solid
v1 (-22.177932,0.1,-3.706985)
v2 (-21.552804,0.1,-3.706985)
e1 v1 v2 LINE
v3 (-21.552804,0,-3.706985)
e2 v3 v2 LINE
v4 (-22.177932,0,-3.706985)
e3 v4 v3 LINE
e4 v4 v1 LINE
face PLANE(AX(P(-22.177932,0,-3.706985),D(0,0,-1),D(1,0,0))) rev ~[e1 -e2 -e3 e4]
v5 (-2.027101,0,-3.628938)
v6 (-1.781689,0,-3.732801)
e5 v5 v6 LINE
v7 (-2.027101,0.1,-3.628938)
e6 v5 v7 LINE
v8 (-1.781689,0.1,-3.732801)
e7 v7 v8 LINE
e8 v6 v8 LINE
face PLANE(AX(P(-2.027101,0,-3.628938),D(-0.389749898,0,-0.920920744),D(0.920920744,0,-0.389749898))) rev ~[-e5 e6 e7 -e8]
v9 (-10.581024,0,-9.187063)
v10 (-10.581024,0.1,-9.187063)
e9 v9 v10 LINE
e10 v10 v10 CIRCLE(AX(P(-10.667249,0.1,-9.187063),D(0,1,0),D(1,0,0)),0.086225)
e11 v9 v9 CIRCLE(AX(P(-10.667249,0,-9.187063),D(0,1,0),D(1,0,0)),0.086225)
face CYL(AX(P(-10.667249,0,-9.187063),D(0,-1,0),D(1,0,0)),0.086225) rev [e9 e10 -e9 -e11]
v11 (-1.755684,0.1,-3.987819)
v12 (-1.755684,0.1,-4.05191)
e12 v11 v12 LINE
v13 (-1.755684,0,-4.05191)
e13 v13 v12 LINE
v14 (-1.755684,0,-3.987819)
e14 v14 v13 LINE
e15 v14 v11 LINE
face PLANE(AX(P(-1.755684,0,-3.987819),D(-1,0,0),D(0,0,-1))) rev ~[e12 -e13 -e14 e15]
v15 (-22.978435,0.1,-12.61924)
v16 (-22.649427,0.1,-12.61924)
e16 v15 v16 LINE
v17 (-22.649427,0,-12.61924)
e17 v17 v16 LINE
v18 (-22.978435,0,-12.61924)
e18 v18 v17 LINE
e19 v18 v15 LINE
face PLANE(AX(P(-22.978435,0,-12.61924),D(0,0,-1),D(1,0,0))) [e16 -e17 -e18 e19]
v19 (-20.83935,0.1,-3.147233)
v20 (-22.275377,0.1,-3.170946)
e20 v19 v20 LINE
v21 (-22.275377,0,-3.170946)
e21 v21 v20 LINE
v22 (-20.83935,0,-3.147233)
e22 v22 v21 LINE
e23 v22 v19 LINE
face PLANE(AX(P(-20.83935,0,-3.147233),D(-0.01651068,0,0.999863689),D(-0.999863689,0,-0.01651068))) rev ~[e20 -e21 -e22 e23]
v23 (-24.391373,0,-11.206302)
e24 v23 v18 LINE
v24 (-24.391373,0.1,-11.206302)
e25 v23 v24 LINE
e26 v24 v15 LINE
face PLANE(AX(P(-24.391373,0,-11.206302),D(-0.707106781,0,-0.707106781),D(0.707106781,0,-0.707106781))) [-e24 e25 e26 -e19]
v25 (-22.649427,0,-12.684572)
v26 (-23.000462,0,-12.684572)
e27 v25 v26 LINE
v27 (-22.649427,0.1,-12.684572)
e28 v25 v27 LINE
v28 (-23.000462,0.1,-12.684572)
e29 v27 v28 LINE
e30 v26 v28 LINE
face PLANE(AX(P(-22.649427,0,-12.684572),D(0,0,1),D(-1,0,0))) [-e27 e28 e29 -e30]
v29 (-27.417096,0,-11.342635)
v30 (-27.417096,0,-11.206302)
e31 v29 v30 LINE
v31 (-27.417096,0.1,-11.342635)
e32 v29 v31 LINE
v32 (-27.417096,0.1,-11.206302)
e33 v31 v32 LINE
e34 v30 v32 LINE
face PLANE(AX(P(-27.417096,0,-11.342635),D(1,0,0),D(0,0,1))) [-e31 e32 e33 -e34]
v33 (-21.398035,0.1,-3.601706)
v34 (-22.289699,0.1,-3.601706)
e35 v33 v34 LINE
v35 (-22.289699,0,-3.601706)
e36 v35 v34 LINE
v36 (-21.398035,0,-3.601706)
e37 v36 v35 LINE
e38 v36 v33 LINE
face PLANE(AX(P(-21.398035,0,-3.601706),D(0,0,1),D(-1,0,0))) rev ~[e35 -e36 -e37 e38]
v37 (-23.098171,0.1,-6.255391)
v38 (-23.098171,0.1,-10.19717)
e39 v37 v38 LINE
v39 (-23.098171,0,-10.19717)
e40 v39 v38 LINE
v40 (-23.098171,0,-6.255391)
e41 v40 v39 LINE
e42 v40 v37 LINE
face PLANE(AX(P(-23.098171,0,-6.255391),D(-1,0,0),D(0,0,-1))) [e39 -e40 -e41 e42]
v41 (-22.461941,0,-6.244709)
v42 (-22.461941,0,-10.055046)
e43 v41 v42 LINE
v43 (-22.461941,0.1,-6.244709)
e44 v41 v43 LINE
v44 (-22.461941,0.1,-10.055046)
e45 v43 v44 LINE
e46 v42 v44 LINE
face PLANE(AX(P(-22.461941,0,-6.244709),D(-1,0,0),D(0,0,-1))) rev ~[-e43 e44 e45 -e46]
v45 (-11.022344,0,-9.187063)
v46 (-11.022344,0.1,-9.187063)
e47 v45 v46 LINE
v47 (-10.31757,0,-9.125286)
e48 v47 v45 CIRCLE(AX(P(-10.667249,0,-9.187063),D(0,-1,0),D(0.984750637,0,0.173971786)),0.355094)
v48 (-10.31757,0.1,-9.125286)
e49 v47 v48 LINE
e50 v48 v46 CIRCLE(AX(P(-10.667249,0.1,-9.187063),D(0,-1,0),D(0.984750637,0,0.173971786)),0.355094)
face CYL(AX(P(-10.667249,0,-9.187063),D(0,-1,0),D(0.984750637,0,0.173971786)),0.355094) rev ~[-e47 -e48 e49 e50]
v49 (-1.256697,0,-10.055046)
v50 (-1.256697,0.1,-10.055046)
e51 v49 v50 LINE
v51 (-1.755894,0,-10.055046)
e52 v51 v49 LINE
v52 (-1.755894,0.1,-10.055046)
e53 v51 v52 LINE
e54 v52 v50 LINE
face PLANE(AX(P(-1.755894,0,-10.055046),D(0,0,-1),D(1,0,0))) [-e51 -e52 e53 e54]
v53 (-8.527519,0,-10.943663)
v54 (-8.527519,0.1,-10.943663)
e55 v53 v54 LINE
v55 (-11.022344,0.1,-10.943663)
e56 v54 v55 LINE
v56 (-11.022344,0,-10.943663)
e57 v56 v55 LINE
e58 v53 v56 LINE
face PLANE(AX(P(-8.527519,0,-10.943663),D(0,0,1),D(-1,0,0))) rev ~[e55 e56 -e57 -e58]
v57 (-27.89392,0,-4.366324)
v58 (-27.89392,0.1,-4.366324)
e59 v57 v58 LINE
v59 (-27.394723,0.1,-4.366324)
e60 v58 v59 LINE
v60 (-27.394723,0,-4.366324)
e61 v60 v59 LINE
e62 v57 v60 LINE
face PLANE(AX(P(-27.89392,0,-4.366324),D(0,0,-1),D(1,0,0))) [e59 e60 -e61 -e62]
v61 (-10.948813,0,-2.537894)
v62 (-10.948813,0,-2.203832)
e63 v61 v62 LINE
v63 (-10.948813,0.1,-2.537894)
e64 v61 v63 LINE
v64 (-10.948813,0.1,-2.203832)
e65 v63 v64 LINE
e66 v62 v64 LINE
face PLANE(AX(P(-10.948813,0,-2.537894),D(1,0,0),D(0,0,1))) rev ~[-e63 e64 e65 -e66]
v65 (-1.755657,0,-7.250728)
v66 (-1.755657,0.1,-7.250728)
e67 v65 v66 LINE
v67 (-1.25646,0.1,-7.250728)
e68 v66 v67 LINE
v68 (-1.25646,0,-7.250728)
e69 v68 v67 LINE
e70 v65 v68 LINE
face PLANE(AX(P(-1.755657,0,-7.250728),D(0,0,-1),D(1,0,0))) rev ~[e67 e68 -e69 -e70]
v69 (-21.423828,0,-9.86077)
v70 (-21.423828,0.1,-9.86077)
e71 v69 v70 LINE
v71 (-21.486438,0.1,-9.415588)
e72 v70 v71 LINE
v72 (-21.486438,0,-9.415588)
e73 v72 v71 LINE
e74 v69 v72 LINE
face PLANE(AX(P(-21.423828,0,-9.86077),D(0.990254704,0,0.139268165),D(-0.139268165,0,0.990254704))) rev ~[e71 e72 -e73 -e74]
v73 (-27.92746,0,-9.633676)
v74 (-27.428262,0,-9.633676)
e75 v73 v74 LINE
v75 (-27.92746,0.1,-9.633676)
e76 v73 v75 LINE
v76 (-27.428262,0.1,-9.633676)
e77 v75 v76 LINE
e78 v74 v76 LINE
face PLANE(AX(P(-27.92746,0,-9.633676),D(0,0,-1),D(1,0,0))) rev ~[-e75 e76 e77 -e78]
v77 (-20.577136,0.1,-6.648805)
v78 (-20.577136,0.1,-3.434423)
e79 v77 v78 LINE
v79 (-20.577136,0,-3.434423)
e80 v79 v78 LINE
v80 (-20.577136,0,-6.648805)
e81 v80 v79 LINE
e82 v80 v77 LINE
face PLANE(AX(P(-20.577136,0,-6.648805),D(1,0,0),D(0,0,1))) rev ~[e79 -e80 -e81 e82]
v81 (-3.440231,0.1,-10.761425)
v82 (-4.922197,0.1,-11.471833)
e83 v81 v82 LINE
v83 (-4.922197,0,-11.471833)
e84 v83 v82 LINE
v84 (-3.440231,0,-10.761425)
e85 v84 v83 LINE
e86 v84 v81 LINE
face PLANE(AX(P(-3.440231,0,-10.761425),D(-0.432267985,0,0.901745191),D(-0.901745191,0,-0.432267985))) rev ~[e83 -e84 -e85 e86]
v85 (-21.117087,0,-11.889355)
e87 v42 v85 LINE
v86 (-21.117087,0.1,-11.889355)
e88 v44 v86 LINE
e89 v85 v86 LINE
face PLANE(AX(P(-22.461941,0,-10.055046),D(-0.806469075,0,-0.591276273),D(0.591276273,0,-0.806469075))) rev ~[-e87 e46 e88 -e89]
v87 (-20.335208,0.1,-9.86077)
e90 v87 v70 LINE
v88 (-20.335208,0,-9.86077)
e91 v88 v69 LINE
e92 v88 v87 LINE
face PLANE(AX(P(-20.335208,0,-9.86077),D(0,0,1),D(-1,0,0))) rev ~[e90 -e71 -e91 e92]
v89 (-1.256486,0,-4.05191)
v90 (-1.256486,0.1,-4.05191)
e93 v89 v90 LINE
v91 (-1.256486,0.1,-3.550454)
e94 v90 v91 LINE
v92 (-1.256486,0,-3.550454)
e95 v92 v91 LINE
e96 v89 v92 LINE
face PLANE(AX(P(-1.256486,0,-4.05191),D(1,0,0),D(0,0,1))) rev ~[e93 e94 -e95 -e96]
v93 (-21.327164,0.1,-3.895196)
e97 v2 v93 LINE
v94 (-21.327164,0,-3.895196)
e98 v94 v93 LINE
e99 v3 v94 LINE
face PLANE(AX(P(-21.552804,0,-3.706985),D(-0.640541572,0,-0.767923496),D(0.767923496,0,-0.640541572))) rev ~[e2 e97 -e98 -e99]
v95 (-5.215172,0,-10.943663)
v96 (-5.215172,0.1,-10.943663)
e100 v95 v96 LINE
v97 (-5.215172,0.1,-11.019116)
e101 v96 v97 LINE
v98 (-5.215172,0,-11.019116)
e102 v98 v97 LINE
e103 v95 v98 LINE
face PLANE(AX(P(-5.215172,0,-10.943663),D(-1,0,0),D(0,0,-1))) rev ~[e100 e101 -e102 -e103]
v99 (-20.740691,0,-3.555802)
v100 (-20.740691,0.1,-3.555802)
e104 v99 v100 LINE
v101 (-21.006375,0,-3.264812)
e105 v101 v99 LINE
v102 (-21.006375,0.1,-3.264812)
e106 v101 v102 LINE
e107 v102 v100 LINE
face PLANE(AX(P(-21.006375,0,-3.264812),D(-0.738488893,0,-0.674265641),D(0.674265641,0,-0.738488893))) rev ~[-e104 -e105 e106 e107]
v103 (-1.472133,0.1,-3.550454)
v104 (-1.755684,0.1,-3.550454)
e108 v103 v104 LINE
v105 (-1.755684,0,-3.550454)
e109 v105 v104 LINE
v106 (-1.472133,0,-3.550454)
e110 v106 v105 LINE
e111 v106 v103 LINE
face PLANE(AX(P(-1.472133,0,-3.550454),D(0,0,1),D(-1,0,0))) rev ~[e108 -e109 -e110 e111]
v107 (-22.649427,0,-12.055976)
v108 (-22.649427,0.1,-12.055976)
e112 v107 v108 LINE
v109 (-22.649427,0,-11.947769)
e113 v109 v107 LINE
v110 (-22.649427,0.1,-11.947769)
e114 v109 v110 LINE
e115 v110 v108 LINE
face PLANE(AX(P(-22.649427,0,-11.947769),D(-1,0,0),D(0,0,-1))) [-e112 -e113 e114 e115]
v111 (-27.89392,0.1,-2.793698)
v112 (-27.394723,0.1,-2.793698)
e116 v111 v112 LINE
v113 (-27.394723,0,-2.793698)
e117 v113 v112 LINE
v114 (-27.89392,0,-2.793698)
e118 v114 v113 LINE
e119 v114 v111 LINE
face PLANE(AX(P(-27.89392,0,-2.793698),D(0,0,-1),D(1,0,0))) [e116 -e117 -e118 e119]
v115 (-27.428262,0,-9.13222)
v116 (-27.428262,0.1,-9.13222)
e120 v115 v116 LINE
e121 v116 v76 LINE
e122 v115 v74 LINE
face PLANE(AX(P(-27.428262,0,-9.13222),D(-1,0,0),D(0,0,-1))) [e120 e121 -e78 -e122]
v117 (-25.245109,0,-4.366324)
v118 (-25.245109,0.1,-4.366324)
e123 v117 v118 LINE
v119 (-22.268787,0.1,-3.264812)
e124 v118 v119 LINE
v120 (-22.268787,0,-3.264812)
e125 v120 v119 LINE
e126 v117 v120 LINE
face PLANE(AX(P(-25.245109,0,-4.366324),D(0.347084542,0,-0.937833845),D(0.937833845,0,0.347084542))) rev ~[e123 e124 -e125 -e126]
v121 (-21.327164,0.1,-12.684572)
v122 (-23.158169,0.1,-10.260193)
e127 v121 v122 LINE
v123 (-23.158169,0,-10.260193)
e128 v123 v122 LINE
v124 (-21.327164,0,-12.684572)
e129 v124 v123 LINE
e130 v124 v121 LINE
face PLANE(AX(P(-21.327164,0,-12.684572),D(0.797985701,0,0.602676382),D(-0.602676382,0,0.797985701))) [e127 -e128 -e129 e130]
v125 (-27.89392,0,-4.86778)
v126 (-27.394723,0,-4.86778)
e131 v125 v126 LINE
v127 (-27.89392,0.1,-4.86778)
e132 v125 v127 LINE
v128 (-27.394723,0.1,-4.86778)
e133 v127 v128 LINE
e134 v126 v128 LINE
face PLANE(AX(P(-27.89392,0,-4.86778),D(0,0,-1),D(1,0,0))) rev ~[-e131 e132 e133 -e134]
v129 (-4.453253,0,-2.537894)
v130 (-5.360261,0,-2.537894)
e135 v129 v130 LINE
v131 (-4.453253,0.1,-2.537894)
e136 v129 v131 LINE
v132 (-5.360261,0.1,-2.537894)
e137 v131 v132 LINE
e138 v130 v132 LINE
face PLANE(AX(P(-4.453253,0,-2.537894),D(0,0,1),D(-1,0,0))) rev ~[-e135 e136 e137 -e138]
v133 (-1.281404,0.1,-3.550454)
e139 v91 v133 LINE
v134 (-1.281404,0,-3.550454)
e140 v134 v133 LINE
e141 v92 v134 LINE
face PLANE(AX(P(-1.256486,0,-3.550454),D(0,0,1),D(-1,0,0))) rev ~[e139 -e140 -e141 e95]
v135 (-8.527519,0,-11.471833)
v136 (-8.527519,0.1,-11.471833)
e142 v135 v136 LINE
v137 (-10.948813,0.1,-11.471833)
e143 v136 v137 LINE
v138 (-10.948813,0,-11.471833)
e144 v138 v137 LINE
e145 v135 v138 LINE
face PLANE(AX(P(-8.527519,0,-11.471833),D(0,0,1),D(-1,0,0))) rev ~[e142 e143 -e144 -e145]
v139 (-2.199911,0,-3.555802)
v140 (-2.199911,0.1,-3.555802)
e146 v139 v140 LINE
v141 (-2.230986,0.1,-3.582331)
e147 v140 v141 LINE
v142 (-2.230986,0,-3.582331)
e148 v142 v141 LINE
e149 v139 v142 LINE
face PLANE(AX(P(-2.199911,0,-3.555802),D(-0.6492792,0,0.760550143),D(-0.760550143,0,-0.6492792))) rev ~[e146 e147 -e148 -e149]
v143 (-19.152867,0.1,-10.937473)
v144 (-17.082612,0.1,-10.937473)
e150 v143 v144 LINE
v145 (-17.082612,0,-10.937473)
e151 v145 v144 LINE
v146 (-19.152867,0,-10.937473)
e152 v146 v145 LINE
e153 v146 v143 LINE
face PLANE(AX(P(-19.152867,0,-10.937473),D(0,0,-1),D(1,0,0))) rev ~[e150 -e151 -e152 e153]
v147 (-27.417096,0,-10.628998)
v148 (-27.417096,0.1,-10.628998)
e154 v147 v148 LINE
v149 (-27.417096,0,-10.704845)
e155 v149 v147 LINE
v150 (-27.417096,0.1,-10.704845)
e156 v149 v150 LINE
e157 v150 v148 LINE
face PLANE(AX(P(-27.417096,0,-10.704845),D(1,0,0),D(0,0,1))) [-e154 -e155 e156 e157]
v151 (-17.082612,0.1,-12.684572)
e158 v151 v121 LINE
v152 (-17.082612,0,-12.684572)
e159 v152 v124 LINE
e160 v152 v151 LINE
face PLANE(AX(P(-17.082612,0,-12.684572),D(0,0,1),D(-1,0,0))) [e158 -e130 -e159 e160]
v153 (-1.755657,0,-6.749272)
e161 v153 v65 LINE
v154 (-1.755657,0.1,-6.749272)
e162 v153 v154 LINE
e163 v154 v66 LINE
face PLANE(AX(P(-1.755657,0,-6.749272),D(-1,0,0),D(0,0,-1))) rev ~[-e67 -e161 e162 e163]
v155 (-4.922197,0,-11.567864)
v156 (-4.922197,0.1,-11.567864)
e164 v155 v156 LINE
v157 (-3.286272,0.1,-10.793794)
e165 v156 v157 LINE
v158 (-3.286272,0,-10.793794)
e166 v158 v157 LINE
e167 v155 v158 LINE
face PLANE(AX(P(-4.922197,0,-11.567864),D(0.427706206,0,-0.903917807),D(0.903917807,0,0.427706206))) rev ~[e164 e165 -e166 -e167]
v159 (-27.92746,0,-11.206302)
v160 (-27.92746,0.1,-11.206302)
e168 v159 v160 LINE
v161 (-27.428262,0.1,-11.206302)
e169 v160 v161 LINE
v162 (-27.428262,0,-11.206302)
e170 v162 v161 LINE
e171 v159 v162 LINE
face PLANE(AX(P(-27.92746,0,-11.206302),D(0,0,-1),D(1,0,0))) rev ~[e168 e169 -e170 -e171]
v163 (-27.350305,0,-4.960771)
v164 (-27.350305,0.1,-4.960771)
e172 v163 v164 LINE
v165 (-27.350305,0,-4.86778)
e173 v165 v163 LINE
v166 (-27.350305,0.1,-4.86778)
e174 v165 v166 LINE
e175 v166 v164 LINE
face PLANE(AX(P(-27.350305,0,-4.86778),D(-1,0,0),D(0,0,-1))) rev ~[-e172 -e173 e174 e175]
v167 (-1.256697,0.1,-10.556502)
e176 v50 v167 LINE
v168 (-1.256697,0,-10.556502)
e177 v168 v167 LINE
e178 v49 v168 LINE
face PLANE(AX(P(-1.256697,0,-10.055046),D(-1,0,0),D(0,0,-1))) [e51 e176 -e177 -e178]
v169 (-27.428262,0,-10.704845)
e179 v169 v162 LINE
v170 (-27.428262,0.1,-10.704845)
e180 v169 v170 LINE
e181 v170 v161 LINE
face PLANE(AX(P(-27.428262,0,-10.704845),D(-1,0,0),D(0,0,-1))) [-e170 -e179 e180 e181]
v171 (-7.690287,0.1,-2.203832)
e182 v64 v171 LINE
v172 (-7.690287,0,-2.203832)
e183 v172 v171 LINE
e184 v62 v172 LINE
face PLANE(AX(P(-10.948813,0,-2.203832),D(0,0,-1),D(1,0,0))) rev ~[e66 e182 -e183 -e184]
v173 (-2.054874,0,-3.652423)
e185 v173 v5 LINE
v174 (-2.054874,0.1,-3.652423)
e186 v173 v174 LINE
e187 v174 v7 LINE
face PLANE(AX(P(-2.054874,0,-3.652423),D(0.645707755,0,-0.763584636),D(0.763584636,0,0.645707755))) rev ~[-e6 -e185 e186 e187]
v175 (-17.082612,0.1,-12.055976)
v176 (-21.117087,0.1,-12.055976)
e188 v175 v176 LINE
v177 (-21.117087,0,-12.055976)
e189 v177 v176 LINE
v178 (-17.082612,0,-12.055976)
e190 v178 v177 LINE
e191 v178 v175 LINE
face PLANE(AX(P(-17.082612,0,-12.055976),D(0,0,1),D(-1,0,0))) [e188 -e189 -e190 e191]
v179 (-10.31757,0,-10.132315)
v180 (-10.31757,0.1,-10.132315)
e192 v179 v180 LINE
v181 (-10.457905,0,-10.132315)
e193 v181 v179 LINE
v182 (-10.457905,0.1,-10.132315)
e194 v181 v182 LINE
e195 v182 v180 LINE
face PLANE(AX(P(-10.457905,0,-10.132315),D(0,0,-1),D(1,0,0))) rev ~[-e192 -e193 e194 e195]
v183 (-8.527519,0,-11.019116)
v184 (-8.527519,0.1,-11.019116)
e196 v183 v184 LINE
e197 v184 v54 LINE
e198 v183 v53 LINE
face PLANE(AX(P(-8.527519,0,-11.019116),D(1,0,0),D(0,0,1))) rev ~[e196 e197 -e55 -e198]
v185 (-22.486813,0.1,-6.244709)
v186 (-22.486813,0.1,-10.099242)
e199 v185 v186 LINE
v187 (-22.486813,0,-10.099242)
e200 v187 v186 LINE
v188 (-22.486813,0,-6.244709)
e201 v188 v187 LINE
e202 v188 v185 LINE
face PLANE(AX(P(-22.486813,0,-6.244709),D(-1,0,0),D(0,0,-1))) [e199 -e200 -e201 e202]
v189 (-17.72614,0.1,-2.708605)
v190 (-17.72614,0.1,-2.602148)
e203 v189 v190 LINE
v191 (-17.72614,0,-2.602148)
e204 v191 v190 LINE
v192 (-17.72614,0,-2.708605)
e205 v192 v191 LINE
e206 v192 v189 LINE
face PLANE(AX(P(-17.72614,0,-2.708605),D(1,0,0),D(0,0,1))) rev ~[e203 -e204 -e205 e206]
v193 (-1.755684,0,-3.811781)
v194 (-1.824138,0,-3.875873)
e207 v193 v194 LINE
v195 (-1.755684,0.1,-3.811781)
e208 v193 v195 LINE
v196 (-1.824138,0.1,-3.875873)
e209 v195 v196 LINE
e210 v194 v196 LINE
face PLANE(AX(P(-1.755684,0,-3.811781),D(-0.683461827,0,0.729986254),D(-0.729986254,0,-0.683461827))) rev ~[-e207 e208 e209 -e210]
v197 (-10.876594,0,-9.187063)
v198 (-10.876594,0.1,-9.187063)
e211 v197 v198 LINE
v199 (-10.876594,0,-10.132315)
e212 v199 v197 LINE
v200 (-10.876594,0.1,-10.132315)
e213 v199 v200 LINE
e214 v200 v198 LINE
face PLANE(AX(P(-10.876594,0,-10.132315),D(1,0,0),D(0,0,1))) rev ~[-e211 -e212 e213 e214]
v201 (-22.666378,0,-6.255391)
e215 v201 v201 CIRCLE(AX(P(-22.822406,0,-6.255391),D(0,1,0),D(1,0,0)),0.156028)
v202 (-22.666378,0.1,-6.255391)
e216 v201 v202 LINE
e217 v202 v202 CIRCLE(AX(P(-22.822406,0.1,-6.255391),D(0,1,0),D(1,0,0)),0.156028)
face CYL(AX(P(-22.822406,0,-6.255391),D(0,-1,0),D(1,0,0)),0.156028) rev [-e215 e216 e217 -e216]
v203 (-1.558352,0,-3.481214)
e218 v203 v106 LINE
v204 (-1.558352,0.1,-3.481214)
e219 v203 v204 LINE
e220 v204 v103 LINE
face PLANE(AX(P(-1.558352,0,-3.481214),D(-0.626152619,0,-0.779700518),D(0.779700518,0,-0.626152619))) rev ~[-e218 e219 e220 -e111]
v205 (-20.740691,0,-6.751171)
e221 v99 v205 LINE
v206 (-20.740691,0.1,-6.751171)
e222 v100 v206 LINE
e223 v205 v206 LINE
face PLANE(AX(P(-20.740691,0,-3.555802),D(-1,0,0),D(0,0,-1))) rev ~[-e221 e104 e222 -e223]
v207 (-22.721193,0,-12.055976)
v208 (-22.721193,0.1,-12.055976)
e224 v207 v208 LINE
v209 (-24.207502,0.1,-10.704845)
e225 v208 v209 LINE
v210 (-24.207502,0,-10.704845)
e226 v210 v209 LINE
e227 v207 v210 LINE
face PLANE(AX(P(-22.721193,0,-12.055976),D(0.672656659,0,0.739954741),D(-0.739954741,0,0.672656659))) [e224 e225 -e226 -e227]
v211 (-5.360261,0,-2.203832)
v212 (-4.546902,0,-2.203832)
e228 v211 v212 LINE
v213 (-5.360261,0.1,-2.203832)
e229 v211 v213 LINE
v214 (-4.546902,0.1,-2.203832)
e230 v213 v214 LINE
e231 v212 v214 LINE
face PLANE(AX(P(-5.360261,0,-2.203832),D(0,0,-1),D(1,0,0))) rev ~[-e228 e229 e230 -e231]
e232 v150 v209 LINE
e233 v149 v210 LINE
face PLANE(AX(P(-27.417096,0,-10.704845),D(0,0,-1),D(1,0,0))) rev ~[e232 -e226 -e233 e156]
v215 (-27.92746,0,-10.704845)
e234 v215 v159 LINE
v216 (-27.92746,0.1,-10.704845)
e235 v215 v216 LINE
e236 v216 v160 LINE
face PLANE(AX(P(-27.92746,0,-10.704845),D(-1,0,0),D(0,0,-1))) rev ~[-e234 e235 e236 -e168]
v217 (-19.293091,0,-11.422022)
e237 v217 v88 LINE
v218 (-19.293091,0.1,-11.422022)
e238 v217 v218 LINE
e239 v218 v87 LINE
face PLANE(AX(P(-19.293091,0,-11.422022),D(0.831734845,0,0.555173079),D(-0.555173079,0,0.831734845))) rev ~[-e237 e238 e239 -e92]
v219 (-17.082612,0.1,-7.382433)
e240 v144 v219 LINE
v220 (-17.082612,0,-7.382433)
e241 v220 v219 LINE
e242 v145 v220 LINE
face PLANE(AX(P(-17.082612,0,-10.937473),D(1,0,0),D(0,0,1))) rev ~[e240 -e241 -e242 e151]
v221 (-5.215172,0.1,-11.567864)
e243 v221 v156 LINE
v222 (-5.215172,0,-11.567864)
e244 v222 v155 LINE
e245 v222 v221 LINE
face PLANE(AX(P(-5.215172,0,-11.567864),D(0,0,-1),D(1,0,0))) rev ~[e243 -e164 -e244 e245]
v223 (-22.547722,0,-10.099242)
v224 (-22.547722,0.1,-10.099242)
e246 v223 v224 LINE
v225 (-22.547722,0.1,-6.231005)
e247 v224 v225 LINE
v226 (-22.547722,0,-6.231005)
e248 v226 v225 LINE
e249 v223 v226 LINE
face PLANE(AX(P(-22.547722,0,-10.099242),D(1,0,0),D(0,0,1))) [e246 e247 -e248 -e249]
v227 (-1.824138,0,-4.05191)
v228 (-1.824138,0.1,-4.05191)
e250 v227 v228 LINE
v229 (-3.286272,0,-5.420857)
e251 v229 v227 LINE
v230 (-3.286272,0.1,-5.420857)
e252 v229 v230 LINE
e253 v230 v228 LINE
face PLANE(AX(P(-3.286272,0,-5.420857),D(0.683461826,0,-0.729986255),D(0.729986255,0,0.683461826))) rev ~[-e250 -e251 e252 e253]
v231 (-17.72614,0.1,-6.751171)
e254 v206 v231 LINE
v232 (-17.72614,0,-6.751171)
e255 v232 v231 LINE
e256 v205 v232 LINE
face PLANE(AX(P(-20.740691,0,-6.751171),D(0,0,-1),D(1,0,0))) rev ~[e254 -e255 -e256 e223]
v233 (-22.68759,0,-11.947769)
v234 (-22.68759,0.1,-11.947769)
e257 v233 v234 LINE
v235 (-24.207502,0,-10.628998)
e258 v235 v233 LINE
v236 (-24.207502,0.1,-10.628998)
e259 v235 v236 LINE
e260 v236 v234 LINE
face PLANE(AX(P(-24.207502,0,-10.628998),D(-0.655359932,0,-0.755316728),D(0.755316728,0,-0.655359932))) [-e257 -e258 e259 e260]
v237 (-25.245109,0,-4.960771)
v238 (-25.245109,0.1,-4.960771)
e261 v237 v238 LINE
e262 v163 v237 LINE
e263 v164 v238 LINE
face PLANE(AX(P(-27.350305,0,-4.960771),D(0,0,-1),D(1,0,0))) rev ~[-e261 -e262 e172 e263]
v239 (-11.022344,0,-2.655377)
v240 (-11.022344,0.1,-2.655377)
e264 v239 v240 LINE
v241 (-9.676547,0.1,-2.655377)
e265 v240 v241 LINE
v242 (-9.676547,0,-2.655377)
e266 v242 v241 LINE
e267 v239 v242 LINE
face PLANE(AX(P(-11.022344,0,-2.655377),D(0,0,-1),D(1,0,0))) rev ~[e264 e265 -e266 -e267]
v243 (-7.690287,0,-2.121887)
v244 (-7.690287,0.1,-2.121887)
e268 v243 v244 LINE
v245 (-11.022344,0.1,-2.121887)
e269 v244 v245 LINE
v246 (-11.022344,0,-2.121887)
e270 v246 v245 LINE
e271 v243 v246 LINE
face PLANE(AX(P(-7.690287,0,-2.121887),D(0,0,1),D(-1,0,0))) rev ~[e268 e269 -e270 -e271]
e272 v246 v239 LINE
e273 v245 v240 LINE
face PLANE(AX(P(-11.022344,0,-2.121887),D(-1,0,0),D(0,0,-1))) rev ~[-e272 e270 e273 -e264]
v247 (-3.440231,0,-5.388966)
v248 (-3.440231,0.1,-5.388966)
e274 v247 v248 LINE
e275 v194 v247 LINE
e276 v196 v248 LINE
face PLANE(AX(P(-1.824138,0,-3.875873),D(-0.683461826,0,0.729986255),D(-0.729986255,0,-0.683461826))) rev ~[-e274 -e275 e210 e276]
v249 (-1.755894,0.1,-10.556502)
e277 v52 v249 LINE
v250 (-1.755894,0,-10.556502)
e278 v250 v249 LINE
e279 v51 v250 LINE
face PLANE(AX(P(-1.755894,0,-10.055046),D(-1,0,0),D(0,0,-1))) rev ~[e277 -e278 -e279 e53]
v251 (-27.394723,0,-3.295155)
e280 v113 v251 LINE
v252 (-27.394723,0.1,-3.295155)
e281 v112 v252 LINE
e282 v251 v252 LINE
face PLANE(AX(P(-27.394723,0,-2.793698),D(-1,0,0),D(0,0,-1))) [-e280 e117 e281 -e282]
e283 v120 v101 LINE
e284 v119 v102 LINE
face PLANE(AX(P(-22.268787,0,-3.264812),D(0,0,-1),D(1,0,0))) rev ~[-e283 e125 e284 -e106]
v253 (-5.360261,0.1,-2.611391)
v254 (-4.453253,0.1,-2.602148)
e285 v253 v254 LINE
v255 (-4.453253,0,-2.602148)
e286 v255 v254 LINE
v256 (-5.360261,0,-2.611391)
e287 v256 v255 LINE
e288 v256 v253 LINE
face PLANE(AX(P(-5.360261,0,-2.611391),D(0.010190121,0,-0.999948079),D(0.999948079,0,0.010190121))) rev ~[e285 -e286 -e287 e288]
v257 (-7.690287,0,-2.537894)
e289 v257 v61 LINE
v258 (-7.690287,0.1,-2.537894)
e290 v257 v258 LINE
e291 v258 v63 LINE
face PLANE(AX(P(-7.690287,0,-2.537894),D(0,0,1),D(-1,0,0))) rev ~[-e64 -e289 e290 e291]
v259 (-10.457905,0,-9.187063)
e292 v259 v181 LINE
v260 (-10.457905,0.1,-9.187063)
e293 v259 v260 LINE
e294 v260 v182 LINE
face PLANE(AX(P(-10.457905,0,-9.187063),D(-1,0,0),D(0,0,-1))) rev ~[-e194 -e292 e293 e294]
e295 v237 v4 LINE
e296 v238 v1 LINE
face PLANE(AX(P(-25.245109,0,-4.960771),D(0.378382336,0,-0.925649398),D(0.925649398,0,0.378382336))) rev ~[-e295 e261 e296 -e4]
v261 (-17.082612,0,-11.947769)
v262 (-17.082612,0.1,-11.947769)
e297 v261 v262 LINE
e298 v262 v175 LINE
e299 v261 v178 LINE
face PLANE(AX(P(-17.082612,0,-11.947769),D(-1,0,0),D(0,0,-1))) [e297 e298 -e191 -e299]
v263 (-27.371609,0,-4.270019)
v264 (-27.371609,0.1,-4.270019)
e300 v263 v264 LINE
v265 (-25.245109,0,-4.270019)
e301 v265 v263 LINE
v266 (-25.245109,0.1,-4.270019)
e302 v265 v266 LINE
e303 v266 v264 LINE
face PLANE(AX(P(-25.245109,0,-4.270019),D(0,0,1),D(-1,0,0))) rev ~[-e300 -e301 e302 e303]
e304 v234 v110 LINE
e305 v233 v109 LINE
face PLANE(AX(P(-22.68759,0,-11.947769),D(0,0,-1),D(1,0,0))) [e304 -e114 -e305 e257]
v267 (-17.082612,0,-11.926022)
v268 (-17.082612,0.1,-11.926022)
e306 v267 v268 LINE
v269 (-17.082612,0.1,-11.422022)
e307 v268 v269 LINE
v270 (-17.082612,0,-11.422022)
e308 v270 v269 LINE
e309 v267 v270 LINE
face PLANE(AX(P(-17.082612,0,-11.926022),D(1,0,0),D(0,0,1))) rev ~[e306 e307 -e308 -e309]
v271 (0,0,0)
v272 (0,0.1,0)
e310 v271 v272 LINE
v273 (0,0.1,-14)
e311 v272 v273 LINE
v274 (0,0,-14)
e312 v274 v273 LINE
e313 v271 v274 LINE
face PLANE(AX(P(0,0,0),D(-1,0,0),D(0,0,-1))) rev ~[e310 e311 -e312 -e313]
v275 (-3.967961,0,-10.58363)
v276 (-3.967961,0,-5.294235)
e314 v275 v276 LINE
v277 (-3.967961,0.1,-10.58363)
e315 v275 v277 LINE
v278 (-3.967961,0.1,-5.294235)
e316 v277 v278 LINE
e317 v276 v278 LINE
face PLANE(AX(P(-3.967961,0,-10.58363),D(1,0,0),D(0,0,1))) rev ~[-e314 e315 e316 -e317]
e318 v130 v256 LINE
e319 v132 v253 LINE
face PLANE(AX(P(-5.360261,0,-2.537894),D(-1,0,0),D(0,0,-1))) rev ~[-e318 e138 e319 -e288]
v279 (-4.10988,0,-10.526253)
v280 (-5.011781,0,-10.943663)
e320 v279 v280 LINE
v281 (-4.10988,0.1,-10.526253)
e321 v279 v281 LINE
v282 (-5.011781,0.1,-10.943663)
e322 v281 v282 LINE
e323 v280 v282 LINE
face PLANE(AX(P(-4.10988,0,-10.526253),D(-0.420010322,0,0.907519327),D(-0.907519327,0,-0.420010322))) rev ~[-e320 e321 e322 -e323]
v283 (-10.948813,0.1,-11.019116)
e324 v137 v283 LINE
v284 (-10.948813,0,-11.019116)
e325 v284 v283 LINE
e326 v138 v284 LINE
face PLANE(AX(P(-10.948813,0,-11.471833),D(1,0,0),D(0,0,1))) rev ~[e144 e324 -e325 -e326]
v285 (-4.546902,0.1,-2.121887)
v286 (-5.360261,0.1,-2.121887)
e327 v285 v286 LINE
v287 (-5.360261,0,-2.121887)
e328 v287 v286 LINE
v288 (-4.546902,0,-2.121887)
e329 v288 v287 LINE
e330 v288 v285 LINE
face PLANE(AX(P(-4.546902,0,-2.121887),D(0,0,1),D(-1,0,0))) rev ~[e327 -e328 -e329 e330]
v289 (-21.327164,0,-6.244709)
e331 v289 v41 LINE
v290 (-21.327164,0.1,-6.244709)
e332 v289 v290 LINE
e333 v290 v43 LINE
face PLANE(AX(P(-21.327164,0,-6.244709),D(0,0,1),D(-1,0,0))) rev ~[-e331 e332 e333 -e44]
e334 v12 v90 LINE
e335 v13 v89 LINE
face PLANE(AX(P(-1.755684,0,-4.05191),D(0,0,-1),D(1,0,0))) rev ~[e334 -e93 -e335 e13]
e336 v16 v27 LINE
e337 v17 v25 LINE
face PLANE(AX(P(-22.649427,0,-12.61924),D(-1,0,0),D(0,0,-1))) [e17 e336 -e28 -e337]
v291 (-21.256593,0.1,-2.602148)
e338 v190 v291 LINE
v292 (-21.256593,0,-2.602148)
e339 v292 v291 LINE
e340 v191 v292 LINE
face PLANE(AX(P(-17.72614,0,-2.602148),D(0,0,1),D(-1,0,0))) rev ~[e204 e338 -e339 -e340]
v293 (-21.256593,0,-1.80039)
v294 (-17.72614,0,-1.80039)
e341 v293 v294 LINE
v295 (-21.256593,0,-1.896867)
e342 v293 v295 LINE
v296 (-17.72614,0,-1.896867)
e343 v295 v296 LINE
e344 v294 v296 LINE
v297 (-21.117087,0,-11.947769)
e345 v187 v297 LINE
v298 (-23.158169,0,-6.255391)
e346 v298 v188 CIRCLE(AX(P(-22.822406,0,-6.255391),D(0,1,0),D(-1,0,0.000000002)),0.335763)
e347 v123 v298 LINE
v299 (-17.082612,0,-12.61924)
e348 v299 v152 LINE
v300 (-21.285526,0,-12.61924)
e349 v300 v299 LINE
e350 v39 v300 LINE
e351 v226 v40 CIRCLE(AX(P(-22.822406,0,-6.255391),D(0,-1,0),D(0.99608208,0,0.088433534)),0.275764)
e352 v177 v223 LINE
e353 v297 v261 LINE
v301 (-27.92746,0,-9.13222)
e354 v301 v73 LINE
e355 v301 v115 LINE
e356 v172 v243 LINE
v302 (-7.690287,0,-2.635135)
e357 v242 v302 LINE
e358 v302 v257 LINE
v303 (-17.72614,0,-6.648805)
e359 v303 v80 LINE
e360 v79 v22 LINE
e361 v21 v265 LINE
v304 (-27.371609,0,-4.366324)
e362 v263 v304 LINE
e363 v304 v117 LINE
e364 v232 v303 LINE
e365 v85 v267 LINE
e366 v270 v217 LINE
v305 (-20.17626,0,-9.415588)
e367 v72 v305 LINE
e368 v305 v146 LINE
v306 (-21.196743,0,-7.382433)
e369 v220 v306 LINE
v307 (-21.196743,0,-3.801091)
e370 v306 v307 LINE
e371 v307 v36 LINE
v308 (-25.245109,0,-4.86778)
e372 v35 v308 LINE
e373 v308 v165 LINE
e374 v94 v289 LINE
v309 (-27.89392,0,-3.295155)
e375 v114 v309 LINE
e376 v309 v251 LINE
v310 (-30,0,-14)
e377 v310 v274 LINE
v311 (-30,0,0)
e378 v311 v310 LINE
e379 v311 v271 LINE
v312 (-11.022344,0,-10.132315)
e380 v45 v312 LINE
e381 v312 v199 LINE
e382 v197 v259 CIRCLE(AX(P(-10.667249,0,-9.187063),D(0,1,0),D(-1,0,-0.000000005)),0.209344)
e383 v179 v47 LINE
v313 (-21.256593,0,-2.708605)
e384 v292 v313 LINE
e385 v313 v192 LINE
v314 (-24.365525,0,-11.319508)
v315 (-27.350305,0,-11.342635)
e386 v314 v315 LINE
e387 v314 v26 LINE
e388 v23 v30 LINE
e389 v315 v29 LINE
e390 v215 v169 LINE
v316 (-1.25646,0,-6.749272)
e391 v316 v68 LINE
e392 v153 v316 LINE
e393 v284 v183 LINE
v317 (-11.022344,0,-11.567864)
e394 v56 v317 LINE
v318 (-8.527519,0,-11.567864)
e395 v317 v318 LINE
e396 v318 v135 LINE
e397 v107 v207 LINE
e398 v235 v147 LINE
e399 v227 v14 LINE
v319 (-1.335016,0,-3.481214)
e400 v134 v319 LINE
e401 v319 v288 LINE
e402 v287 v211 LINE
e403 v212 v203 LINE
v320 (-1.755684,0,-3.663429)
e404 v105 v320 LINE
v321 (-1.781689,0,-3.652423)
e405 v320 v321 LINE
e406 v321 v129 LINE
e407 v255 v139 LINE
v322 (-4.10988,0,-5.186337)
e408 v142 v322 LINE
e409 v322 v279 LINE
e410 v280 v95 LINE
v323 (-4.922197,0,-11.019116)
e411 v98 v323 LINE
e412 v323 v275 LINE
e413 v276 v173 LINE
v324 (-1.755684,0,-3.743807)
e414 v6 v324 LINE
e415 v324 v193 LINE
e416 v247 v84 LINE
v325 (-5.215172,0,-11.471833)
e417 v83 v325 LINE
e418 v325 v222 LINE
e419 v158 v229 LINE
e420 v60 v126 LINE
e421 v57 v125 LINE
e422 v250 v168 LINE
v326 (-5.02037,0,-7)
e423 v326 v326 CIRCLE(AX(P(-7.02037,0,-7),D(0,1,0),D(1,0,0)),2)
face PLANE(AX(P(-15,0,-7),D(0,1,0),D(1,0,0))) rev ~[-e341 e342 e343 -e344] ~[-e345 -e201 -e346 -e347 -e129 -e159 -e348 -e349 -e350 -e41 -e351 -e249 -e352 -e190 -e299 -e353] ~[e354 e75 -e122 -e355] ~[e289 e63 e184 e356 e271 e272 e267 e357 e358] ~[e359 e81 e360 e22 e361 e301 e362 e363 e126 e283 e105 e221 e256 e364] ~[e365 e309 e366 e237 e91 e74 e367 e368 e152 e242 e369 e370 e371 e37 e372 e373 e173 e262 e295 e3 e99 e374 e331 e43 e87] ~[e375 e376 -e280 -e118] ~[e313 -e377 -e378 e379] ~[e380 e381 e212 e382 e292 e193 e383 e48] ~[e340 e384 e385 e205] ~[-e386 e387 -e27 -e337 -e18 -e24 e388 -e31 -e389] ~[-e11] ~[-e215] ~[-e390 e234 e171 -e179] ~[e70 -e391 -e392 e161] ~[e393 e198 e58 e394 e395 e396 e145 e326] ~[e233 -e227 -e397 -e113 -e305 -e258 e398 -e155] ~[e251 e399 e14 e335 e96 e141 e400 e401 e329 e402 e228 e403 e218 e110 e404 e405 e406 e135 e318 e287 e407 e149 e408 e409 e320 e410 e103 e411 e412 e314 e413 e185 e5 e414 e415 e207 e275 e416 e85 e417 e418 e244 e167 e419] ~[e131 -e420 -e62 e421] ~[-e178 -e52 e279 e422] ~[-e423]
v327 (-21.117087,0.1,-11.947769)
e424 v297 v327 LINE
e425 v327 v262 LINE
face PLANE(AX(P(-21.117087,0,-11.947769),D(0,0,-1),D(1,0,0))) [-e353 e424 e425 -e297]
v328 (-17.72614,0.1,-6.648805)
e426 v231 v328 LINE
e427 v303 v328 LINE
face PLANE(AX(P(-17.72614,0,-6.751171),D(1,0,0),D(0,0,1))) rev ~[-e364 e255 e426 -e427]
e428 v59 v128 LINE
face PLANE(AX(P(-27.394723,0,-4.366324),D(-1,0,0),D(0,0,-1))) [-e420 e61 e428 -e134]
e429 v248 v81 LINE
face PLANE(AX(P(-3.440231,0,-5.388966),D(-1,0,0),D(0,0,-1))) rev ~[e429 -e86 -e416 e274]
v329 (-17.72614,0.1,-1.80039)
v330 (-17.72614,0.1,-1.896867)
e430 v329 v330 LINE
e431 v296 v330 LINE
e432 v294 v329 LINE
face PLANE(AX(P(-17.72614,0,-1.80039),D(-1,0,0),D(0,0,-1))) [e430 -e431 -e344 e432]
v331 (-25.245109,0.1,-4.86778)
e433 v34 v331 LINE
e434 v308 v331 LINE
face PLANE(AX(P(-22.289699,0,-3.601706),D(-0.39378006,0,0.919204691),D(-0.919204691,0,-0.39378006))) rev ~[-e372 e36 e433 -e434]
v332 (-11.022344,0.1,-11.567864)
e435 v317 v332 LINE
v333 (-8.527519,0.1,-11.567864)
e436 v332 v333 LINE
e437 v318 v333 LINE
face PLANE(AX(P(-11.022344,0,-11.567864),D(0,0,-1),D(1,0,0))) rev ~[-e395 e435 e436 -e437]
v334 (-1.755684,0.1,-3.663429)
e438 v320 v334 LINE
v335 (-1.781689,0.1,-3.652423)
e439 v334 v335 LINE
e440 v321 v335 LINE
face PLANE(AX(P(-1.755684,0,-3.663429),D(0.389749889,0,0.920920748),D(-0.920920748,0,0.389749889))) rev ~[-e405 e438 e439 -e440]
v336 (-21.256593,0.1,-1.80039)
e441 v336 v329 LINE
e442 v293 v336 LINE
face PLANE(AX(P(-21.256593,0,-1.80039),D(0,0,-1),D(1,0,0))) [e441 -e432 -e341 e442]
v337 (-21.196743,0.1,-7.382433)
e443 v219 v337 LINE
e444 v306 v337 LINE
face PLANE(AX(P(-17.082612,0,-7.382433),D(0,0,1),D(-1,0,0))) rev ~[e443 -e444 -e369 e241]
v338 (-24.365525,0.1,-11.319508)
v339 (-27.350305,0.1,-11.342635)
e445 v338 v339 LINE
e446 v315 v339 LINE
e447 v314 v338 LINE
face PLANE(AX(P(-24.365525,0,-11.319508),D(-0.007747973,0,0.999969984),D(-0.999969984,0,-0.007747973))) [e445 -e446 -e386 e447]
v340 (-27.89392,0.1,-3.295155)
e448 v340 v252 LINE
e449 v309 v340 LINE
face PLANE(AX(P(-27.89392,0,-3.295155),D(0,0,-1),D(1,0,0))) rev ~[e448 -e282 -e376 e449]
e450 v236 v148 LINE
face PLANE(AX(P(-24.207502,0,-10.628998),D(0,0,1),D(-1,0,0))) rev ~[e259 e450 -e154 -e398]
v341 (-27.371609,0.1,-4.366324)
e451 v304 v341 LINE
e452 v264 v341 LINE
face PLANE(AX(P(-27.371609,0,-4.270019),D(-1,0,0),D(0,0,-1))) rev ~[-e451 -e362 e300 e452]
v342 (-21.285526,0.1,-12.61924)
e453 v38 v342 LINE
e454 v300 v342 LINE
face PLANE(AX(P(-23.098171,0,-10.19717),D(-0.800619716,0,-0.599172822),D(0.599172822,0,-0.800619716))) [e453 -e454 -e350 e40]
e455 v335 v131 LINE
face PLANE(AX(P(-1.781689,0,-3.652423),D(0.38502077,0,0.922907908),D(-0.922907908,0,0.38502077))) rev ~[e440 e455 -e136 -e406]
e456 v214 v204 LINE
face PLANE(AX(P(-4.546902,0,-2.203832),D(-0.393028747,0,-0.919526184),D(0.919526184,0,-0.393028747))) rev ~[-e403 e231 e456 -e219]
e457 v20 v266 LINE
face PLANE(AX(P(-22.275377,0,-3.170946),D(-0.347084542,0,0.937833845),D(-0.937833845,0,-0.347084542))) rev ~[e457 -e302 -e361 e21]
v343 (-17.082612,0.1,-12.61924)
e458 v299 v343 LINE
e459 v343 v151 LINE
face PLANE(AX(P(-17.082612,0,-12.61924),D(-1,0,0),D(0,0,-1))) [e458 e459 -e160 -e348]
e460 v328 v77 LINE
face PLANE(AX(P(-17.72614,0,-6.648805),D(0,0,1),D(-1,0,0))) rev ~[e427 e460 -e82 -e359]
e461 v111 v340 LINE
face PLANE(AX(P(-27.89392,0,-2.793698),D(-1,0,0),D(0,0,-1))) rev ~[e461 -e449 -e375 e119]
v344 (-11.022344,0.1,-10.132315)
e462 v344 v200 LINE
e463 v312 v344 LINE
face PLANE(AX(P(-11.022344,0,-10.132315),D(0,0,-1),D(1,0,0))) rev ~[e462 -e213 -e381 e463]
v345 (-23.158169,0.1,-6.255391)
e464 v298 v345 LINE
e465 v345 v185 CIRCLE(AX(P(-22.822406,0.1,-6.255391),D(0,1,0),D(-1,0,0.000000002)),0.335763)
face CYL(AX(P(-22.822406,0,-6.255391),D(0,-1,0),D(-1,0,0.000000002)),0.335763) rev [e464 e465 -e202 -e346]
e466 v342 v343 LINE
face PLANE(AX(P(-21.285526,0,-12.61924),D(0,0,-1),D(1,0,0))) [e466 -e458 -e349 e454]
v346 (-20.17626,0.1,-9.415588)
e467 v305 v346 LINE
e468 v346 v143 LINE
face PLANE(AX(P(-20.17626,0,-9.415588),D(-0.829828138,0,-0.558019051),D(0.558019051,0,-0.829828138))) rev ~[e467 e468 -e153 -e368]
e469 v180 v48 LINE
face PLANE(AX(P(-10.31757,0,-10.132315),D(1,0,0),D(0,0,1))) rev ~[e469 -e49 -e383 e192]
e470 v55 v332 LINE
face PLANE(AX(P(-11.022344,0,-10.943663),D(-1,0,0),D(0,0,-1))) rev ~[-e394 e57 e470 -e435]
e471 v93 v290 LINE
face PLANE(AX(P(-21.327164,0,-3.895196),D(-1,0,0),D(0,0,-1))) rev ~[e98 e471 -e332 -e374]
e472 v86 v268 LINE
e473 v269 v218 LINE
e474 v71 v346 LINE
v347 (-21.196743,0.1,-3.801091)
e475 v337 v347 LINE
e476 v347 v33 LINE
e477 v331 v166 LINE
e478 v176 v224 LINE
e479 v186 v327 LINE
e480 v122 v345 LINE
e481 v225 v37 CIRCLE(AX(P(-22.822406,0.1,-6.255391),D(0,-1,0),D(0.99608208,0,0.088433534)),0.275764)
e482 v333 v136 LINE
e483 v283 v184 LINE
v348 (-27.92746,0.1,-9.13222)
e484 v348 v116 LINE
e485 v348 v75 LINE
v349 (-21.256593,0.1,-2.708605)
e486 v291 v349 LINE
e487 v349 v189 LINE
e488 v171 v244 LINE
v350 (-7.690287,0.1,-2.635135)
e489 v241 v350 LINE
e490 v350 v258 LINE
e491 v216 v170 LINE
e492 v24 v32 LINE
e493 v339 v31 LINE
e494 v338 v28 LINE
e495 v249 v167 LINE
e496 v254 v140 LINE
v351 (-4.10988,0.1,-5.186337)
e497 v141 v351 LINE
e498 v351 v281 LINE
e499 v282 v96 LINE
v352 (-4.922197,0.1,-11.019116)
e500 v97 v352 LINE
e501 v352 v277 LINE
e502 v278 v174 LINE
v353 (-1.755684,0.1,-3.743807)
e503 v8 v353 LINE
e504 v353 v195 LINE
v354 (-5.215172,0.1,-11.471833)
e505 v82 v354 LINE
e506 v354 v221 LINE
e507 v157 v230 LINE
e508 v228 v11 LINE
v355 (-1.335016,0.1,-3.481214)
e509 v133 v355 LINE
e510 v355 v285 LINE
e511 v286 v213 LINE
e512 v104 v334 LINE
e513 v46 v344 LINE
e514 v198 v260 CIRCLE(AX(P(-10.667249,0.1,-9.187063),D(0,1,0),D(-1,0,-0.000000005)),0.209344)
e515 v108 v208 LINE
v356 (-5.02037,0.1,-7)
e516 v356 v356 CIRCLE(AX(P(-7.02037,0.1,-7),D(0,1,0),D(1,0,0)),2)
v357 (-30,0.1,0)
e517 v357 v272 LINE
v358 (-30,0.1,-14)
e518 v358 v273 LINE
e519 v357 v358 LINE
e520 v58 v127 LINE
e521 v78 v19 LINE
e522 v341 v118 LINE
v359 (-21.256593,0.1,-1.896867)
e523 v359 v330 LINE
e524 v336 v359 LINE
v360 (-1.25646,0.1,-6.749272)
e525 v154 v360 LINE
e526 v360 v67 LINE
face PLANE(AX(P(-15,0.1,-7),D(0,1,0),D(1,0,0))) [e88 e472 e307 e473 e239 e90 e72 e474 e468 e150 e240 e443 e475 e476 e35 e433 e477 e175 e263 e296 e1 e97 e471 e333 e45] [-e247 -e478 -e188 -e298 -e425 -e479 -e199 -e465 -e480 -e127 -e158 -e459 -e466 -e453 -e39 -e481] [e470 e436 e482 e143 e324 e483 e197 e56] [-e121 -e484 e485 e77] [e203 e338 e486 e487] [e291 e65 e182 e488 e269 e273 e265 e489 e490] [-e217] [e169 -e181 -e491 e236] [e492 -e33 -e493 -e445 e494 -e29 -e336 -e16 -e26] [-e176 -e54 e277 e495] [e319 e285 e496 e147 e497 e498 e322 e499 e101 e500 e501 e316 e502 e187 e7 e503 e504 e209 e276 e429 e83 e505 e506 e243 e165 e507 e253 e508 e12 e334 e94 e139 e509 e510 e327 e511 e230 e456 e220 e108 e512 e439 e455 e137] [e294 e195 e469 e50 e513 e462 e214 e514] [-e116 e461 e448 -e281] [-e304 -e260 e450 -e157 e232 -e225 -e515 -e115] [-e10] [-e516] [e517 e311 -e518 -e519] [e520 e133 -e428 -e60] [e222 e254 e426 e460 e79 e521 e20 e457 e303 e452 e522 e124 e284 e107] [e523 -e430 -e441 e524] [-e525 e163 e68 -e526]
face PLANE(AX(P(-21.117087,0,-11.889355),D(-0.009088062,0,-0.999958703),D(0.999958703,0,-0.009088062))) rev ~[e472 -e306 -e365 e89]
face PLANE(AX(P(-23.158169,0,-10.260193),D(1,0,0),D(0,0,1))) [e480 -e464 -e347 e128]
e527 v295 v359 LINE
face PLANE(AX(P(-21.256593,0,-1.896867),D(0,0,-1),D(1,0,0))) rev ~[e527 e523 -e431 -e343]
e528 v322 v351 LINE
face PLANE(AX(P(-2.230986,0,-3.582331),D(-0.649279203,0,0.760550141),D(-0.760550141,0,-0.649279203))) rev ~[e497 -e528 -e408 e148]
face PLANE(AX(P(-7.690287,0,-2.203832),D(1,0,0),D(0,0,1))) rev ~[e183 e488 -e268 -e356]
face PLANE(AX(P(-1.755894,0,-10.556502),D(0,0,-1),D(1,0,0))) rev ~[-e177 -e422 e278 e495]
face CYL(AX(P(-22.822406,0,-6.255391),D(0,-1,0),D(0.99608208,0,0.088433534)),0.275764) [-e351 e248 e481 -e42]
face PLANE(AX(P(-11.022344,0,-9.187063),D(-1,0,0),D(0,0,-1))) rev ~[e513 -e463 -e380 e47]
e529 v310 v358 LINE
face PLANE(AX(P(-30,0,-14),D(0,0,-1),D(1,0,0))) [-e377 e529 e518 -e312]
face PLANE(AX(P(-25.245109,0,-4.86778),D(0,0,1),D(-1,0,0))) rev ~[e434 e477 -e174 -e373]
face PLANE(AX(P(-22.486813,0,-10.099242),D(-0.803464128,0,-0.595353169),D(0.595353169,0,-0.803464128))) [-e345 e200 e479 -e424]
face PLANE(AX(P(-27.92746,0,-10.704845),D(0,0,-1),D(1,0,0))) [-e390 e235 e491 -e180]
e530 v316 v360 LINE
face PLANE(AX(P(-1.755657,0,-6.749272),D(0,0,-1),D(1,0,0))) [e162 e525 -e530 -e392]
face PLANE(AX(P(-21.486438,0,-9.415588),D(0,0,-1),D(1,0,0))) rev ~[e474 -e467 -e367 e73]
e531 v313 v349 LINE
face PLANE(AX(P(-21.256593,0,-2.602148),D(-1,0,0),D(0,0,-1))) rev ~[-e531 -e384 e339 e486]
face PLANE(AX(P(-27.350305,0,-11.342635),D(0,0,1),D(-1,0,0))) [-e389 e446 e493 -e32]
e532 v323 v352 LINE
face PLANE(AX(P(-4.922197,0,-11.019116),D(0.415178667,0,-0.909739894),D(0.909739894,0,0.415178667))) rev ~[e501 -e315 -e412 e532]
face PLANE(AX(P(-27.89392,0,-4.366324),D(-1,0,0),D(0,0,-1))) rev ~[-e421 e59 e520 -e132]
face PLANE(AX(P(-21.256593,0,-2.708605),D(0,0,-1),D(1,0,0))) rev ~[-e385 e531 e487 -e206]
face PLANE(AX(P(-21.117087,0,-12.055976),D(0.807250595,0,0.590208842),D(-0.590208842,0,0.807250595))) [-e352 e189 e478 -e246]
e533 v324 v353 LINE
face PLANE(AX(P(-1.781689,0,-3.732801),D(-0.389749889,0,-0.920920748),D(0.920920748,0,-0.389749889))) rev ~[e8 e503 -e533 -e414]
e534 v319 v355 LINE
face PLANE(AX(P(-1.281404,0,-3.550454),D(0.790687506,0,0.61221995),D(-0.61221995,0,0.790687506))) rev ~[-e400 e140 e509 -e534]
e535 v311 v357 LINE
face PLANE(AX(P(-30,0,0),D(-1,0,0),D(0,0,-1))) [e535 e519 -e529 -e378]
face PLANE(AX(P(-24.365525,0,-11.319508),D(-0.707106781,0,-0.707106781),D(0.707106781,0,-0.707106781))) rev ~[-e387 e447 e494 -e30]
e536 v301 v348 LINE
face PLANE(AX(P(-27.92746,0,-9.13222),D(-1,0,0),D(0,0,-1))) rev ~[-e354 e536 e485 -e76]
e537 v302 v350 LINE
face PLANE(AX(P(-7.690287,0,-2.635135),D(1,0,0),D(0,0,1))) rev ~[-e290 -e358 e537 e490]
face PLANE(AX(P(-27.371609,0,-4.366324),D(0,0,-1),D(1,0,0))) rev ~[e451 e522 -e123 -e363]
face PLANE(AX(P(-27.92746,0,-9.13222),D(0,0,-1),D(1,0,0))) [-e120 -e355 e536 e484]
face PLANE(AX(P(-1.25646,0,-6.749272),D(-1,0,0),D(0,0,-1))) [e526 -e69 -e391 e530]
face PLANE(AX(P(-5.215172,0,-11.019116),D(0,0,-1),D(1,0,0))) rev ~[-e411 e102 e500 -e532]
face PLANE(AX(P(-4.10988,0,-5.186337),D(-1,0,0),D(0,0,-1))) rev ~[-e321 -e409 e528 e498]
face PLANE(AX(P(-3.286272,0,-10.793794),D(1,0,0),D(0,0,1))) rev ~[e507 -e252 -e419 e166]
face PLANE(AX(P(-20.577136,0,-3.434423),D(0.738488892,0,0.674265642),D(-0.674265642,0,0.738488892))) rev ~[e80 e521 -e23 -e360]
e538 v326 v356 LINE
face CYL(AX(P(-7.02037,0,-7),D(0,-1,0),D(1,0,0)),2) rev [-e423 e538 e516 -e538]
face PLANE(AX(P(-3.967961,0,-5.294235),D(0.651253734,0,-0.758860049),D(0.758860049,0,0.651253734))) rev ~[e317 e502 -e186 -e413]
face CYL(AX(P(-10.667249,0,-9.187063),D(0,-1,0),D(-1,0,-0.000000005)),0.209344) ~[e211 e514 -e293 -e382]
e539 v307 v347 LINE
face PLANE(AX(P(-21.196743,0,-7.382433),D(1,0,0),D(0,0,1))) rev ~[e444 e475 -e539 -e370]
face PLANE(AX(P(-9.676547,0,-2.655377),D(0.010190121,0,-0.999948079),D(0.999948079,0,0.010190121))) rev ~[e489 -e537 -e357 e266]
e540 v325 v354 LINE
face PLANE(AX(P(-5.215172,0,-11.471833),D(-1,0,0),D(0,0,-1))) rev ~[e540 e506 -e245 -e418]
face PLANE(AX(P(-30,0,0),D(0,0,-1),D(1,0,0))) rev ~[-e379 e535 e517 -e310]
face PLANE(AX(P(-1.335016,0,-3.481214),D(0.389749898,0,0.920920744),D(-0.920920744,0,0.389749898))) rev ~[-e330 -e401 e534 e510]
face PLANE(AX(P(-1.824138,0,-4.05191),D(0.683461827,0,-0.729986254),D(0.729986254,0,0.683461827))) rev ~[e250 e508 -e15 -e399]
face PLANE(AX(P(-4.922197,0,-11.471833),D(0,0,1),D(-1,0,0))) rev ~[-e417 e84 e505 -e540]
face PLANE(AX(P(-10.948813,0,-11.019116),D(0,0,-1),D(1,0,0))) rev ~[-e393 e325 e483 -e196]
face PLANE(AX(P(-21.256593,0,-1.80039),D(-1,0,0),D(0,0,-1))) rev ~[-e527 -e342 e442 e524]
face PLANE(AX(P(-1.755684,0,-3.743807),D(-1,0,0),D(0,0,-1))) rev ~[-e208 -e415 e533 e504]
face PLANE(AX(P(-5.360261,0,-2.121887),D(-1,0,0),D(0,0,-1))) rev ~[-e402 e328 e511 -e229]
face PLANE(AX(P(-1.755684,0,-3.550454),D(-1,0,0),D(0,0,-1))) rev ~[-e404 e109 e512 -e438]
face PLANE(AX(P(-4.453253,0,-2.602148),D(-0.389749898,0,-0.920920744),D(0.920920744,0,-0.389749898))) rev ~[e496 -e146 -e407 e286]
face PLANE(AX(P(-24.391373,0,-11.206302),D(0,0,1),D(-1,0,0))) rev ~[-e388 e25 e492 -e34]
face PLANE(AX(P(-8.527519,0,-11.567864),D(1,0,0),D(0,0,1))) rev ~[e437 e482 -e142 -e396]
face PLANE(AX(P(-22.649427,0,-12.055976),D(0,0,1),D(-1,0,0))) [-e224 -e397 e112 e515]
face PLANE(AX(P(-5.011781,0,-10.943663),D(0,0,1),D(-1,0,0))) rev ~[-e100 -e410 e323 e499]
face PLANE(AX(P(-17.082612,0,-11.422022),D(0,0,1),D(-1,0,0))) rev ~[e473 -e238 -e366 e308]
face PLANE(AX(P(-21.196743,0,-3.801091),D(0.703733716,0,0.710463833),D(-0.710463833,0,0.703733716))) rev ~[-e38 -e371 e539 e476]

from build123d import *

# Parameters (mm, degrees)
SKETCH1_W           = 30
SKETCH1_H           = 14
SKETCH1_R           = 2
SKETCH1_R_2         = 0.156028334
SKETCH1_R_3         = 0.086225259
SKETCH1_W_2         = 0.499197809
SKETCH1_H_2         = 0.501456342
SKETCH1_H_3         = 0.501456343
SKETCH1_W_3         = 3.5304532
SKETCH1_H_4         = 0.096477131
BOSS_EXTRUDE2_DEPTH = 0.1


with BuildPart() as part:
    # Sketch1 → Boss-Extrude2 (new body)
    with BuildSketch(Plane(origin=(0, 0, 0), x_dir=(1, 0, 0), z_dir=(0, 1, 0))):
        with Locations((-15, 7)):
            Rectangle(SKETCH1_W, SKETCH1_H)
        with Locations((-7.020370045, 7)):
            Circle(SKETCH1_R, mode=Mode.SUBTRACT)
        with Locations((-22.822406344, 6.255391347)):
            Circle(SKETCH1_R_2, mode=Mode.SUBTRACT)
        with Locations((-10.66724947, 9.187062819)):
            Circle(SKETCH1_R_3, mode=Mode.SUBTRACT)
        with Locations((-1.506295526, 10.305773891)):
            Rectangle(SKETCH1_W_2, SKETCH1_H_2, mode=Mode.SUBTRACT)
        with Locations((-1.506058557, 7)):
            Rectangle(SKETCH1_W_2, SKETCH1_H_2, mode=Mode.SUBTRACT)
        Polygon((-1.256485692, 3.550454026), (-1.28140444, 3.550454026), (-1.335016171, 3.481213999), (-4.54690164, 2.121887432), (-5.360261371, 2.121887432), (-5.360261371, 2.203832458), (-4.54690164, 2.203832458), (-1.558352374, 3.481213999), (-1.472133003, 3.550454026), (-1.755683501, 3.550454026), (-1.755683501, 3.663429203), (-1.781688576, 3.652423397), (-4.453252976, 2.537894228), (-5.360261371, 2.537894228), (-5.360261371, 2.611390791), (-4.453252976, 2.602147786), (-2.199910697, 3.555801973), (-2.230986224, 3.58233105), (-4.109880419, 5.186336967), (-4.109880419, 10.52625285), (-5.01178132, 10.9436629), (-5.2151716, 10.9436629), (-5.2151716, 11.019115731), (-4.92219693, 11.019115731), (-3.967960979, 10.583630365), (-3.967960979, 5.294234739), (-2.054874003, 3.652423397), (-2.027101226, 3.628937988), (-1.781688576, 3.732800949), (-1.755683501, 3.743806755), (-1.755683501, 3.811781185), (-1.824138086, 3.875872934), (-3.440230513, 5.388966468), (-3.440230513, 10.76142511), (-4.92219693, 11.471832711), (-5.2151716, 11.471832711), (-5.2151716, 11.567863586), (-4.92219693, 11.567863586), (-3.286271687, 10.793793894), (-3.286271687, 5.420857378), (-1.824138086, 4.051910368), (-1.755683501, 3.987818619), (-1.755683501, 4.051910368), (-1.256485692, 4.051910368), align=None, mode=Mode.SUBTRACT)
        Polygon((-20.740691313, 3.555801973), (-20.740691313, 6.751171354), (-17.726140192, 6.751171354), (-17.726140192, 6.648804669), (-20.577135817, 6.648804669), (-20.577135817, 6.588691856), (-20.577135817, 3.434422851), (-20.839350262, 3.147232695), (-22.275377127, 3.170945708), (-25.245108692, 4.270018773), (-27.280489968, 4.270018773), (-27.371609442, 4.270018773), (-27.371609442, 4.36632395), (-27.280489968, 4.36632395), (-25.245108692, 4.36632395), (-22.268787234, 3.26481202), (-21.006375102, 3.26481202), align=None, mode=Mode.SUBTRACT)
        Polygon((-21.196743275, 7.250728171), (-21.196743275, 4.159991696), (-21.196743275, 3.801090583), (-21.398034662, 3.601705999), (-22.289698939, 3.601705999), (-25.245108692, 4.867780292), (-27.280489968, 4.867780292), (-27.350305288, 4.867780292), (-27.350305288, 4.960770533), (-27.280489968, 4.960770533), (-25.245108692, 4.960770533), (-22.177931991, 3.706985367), (-21.552803523, 3.706985367), (-21.32716444, 3.895195799), (-21.32716444, 6.24470924), (-22.461941115, 6.24470924), (-22.461941115, 10.05504572), (-21.11708673, 11.889354862), (-17.082611668, 11.926021935), (-17.082611668, 11.511053117), (-17.082611668, 11.422021861), (-17.122361985, 11.422021861), (-19.29309074, 11.422021861), (-20.335207519, 9.860770298), (-21.423827816, 9.860770298), (-21.486437697, 9.415587946), (-20.176259884, 9.415587946), (-19.152866511, 10.937472578), (-17.122361985, 10.937472578), (-17.082611668, 10.937472578), (-17.082611668, 10.879889975), (-17.082611668, 7.382432578), (-17.726140192, 7.382432578), (-20.577135817, 7.382432578), (-21.196743275, 7.382432578), align=None, mode=Mode.SUBTRACT)
        with Locations((-27.644321584, 3.044426332)):
            Rectangle(SKETCH1_W_2, SKETCH1_H_3, mode=Mode.SUBTRACT)
        with Locations((-27.644321584, 4.617052121)):
            Rectangle(SKETCH1_W_2, SKETCH1_H_2, mode=Mode.SUBTRACT)
        with Locations((-27.677861275, 9.382947879)):
            Rectangle(SKETCH1_W_2, SKETCH1_H_2, mode=Mode.SUBTRACT)
        with Locations((-27.677861275, 10.955573669)):
            Rectangle(SKETCH1_W_2, SKETCH1_H_3, mode=Mode.SUBTRACT)
        Polygon((-27.350305288, 11.20630184), (-24.391373084, 11.20630184), (-22.978434678, 12.619240246), (-22.649427056, 12.619240246), (-22.649427056, 12.684571648), (-23.000461853, 12.684571648), (-24.206065105, 11.478968396), (-24.365525074, 11.319508427), (-27.350305288, 11.342635118), (-27.41709617, 11.342635118), (-27.41709617, 11.20630184), align=None, mode=Mode.SUBTRACT)
        Polygon((-22.649427056, 12.055976166), (-22.721193305, 12.055976166), (-24.207502155, 10.704845497), (-27.350305288, 10.704845497), (-27.41709617, 10.704845497), (-27.41709617, 10.628998487), (-27.350305288, 10.628998487), (-24.207502155, 10.628998487), (-22.687589847, 11.947769263), (-22.649427056, 11.947769263), align=None, mode=Mode.SUBTRACT)
        Polygon((-21.256593392, 2.708605309), (-20.577135817, 2.708605309), (-17.726140192, 2.708605309), (-17.726140192, 2.602147786), (-20.577135817, 2.602147786), (-21.256593392, 2.602147786), align=None, mode=Mode.SUBTRACT)
        with Locations((-19.491366792, 1.848628129)):
            Rectangle(SKETCH1_W_3, SKETCH1_H_4, mode=Mode.SUBTRACT)
        with BuildLine():
            Line((-22.547722421, 9.635418098), (-22.547722421, 6.231004531))
            ThreePointArc((-22.547722421, 6.231004531), (-22.834611713, 5.979897239), (-23.09817069, 6.255391347))
            Line((-23.09817069, 6.255391347), (-23.09817069, 9.635418098))
            Line((-23.09817069, 9.635418098), (-23.09817069, 10.19716986))
            Line((-23.09817069, 10.19716986), (-21.285526409, 12.619240246))
            Line((-21.285526409, 12.619240246), (-17.082611668, 12.619240246))
            Line((-17.082611668, 12.619240246), (-17.082611668, 12.684571648))
            Line((-17.082611668, 12.684571648), (-21.32716444, 12.684571648))
            Line((-21.32716444, 12.684571648), (-23.158169226, 10.26019319))
            Line((-23.158169226, 10.26019319), (-23.158169226, 9.635418098))
            Line((-23.158169226, 9.635418098), (-23.158169226, 6.255391347))
            ThreePointArc((-23.158169226, 6.255391347), (-22.827748074, 5.91967096), (-22.486813428, 6.24470924))
            Line((-22.486813428, 6.24470924), (-22.486813428, 10.099242499))
            Line((-22.486813428, 10.099242499), (-21.11708673, 11.947769263))
            Line((-21.11708673, 11.947769263), (-17.082611668, 11.947769263))
            Line((-17.082611668, 11.947769263), (-17.082611668, 12.055976166))
            Line((-17.082611668, 12.055976166), (-21.11708673, 12.055976166))
            Line((-21.11708673, 12.055976166), (-22.547722421, 10.099242499))
            Line((-22.547722421, 10.099242499), (-22.547722421, 9.635418098))
        make_face(mode=Mode.SUBTRACT)
        Polygon((-9.676546893, 2.655376547), (-7.690286822, 2.635135266), (-7.690286822, 2.537894228), (-10.948813257, 2.537894228), (-10.948813257, 2.203832458), (-7.690286822, 2.203832458), (-7.690286822, 2.121887432), (-9.723371226, 2.121887432), (-11.022343809, 2.121887432), (-11.022343809, 2.655376547), align=None, mode=Mode.SUBTRACT)
        with BuildLine():
            Line((-11.022343809, 9.187062819), (-11.022343809, 10.13231451))
            Line((-11.022343809, 10.13231451), (-10.876593598, 10.13231451))
            Line((-10.876593598, 10.13231451), (-10.876593598, 9.187062819))
            ThreePointArc((-10.876593598, 9.187062819), (-10.66724947, 8.97771869), (-10.457905342, 9.187062819))
            Line((-10.457905342, 9.187062819), (-10.457905342, 10.13231451))
            Line((-10.457905342, 10.13231451), (-10.317570093, 10.13231451))
            Line((-10.317570093, 10.13231451), (-10.317570093, 9.125286422))
            ThreePointArc((-10.317570093, 9.125286422), (-10.698256102, 8.83332481), (-11.022343809, 9.187062819))
        make_face(mode=Mode.SUBTRACT)
        Polygon((-11.022343809, 11.567863586), (-8.527519195, 11.567863586), (-8.527519195, 11.471832711), (-8.617764349, 11.471832711), (-10.948813257, 11.471832711), (-10.948813257, 11.019115731), (-8.617764349, 11.019115731), (-8.527519195, 11.019115731), (-8.527519195, 10.9436629), (-11.022343809, 10.9436629), (-11.022343809, 11.266245402), align=None, mode=Mode.SUBTRACT)
    extrude(amount=BOSS_EXTRUDE2_DEPTH)


solid = part.part
